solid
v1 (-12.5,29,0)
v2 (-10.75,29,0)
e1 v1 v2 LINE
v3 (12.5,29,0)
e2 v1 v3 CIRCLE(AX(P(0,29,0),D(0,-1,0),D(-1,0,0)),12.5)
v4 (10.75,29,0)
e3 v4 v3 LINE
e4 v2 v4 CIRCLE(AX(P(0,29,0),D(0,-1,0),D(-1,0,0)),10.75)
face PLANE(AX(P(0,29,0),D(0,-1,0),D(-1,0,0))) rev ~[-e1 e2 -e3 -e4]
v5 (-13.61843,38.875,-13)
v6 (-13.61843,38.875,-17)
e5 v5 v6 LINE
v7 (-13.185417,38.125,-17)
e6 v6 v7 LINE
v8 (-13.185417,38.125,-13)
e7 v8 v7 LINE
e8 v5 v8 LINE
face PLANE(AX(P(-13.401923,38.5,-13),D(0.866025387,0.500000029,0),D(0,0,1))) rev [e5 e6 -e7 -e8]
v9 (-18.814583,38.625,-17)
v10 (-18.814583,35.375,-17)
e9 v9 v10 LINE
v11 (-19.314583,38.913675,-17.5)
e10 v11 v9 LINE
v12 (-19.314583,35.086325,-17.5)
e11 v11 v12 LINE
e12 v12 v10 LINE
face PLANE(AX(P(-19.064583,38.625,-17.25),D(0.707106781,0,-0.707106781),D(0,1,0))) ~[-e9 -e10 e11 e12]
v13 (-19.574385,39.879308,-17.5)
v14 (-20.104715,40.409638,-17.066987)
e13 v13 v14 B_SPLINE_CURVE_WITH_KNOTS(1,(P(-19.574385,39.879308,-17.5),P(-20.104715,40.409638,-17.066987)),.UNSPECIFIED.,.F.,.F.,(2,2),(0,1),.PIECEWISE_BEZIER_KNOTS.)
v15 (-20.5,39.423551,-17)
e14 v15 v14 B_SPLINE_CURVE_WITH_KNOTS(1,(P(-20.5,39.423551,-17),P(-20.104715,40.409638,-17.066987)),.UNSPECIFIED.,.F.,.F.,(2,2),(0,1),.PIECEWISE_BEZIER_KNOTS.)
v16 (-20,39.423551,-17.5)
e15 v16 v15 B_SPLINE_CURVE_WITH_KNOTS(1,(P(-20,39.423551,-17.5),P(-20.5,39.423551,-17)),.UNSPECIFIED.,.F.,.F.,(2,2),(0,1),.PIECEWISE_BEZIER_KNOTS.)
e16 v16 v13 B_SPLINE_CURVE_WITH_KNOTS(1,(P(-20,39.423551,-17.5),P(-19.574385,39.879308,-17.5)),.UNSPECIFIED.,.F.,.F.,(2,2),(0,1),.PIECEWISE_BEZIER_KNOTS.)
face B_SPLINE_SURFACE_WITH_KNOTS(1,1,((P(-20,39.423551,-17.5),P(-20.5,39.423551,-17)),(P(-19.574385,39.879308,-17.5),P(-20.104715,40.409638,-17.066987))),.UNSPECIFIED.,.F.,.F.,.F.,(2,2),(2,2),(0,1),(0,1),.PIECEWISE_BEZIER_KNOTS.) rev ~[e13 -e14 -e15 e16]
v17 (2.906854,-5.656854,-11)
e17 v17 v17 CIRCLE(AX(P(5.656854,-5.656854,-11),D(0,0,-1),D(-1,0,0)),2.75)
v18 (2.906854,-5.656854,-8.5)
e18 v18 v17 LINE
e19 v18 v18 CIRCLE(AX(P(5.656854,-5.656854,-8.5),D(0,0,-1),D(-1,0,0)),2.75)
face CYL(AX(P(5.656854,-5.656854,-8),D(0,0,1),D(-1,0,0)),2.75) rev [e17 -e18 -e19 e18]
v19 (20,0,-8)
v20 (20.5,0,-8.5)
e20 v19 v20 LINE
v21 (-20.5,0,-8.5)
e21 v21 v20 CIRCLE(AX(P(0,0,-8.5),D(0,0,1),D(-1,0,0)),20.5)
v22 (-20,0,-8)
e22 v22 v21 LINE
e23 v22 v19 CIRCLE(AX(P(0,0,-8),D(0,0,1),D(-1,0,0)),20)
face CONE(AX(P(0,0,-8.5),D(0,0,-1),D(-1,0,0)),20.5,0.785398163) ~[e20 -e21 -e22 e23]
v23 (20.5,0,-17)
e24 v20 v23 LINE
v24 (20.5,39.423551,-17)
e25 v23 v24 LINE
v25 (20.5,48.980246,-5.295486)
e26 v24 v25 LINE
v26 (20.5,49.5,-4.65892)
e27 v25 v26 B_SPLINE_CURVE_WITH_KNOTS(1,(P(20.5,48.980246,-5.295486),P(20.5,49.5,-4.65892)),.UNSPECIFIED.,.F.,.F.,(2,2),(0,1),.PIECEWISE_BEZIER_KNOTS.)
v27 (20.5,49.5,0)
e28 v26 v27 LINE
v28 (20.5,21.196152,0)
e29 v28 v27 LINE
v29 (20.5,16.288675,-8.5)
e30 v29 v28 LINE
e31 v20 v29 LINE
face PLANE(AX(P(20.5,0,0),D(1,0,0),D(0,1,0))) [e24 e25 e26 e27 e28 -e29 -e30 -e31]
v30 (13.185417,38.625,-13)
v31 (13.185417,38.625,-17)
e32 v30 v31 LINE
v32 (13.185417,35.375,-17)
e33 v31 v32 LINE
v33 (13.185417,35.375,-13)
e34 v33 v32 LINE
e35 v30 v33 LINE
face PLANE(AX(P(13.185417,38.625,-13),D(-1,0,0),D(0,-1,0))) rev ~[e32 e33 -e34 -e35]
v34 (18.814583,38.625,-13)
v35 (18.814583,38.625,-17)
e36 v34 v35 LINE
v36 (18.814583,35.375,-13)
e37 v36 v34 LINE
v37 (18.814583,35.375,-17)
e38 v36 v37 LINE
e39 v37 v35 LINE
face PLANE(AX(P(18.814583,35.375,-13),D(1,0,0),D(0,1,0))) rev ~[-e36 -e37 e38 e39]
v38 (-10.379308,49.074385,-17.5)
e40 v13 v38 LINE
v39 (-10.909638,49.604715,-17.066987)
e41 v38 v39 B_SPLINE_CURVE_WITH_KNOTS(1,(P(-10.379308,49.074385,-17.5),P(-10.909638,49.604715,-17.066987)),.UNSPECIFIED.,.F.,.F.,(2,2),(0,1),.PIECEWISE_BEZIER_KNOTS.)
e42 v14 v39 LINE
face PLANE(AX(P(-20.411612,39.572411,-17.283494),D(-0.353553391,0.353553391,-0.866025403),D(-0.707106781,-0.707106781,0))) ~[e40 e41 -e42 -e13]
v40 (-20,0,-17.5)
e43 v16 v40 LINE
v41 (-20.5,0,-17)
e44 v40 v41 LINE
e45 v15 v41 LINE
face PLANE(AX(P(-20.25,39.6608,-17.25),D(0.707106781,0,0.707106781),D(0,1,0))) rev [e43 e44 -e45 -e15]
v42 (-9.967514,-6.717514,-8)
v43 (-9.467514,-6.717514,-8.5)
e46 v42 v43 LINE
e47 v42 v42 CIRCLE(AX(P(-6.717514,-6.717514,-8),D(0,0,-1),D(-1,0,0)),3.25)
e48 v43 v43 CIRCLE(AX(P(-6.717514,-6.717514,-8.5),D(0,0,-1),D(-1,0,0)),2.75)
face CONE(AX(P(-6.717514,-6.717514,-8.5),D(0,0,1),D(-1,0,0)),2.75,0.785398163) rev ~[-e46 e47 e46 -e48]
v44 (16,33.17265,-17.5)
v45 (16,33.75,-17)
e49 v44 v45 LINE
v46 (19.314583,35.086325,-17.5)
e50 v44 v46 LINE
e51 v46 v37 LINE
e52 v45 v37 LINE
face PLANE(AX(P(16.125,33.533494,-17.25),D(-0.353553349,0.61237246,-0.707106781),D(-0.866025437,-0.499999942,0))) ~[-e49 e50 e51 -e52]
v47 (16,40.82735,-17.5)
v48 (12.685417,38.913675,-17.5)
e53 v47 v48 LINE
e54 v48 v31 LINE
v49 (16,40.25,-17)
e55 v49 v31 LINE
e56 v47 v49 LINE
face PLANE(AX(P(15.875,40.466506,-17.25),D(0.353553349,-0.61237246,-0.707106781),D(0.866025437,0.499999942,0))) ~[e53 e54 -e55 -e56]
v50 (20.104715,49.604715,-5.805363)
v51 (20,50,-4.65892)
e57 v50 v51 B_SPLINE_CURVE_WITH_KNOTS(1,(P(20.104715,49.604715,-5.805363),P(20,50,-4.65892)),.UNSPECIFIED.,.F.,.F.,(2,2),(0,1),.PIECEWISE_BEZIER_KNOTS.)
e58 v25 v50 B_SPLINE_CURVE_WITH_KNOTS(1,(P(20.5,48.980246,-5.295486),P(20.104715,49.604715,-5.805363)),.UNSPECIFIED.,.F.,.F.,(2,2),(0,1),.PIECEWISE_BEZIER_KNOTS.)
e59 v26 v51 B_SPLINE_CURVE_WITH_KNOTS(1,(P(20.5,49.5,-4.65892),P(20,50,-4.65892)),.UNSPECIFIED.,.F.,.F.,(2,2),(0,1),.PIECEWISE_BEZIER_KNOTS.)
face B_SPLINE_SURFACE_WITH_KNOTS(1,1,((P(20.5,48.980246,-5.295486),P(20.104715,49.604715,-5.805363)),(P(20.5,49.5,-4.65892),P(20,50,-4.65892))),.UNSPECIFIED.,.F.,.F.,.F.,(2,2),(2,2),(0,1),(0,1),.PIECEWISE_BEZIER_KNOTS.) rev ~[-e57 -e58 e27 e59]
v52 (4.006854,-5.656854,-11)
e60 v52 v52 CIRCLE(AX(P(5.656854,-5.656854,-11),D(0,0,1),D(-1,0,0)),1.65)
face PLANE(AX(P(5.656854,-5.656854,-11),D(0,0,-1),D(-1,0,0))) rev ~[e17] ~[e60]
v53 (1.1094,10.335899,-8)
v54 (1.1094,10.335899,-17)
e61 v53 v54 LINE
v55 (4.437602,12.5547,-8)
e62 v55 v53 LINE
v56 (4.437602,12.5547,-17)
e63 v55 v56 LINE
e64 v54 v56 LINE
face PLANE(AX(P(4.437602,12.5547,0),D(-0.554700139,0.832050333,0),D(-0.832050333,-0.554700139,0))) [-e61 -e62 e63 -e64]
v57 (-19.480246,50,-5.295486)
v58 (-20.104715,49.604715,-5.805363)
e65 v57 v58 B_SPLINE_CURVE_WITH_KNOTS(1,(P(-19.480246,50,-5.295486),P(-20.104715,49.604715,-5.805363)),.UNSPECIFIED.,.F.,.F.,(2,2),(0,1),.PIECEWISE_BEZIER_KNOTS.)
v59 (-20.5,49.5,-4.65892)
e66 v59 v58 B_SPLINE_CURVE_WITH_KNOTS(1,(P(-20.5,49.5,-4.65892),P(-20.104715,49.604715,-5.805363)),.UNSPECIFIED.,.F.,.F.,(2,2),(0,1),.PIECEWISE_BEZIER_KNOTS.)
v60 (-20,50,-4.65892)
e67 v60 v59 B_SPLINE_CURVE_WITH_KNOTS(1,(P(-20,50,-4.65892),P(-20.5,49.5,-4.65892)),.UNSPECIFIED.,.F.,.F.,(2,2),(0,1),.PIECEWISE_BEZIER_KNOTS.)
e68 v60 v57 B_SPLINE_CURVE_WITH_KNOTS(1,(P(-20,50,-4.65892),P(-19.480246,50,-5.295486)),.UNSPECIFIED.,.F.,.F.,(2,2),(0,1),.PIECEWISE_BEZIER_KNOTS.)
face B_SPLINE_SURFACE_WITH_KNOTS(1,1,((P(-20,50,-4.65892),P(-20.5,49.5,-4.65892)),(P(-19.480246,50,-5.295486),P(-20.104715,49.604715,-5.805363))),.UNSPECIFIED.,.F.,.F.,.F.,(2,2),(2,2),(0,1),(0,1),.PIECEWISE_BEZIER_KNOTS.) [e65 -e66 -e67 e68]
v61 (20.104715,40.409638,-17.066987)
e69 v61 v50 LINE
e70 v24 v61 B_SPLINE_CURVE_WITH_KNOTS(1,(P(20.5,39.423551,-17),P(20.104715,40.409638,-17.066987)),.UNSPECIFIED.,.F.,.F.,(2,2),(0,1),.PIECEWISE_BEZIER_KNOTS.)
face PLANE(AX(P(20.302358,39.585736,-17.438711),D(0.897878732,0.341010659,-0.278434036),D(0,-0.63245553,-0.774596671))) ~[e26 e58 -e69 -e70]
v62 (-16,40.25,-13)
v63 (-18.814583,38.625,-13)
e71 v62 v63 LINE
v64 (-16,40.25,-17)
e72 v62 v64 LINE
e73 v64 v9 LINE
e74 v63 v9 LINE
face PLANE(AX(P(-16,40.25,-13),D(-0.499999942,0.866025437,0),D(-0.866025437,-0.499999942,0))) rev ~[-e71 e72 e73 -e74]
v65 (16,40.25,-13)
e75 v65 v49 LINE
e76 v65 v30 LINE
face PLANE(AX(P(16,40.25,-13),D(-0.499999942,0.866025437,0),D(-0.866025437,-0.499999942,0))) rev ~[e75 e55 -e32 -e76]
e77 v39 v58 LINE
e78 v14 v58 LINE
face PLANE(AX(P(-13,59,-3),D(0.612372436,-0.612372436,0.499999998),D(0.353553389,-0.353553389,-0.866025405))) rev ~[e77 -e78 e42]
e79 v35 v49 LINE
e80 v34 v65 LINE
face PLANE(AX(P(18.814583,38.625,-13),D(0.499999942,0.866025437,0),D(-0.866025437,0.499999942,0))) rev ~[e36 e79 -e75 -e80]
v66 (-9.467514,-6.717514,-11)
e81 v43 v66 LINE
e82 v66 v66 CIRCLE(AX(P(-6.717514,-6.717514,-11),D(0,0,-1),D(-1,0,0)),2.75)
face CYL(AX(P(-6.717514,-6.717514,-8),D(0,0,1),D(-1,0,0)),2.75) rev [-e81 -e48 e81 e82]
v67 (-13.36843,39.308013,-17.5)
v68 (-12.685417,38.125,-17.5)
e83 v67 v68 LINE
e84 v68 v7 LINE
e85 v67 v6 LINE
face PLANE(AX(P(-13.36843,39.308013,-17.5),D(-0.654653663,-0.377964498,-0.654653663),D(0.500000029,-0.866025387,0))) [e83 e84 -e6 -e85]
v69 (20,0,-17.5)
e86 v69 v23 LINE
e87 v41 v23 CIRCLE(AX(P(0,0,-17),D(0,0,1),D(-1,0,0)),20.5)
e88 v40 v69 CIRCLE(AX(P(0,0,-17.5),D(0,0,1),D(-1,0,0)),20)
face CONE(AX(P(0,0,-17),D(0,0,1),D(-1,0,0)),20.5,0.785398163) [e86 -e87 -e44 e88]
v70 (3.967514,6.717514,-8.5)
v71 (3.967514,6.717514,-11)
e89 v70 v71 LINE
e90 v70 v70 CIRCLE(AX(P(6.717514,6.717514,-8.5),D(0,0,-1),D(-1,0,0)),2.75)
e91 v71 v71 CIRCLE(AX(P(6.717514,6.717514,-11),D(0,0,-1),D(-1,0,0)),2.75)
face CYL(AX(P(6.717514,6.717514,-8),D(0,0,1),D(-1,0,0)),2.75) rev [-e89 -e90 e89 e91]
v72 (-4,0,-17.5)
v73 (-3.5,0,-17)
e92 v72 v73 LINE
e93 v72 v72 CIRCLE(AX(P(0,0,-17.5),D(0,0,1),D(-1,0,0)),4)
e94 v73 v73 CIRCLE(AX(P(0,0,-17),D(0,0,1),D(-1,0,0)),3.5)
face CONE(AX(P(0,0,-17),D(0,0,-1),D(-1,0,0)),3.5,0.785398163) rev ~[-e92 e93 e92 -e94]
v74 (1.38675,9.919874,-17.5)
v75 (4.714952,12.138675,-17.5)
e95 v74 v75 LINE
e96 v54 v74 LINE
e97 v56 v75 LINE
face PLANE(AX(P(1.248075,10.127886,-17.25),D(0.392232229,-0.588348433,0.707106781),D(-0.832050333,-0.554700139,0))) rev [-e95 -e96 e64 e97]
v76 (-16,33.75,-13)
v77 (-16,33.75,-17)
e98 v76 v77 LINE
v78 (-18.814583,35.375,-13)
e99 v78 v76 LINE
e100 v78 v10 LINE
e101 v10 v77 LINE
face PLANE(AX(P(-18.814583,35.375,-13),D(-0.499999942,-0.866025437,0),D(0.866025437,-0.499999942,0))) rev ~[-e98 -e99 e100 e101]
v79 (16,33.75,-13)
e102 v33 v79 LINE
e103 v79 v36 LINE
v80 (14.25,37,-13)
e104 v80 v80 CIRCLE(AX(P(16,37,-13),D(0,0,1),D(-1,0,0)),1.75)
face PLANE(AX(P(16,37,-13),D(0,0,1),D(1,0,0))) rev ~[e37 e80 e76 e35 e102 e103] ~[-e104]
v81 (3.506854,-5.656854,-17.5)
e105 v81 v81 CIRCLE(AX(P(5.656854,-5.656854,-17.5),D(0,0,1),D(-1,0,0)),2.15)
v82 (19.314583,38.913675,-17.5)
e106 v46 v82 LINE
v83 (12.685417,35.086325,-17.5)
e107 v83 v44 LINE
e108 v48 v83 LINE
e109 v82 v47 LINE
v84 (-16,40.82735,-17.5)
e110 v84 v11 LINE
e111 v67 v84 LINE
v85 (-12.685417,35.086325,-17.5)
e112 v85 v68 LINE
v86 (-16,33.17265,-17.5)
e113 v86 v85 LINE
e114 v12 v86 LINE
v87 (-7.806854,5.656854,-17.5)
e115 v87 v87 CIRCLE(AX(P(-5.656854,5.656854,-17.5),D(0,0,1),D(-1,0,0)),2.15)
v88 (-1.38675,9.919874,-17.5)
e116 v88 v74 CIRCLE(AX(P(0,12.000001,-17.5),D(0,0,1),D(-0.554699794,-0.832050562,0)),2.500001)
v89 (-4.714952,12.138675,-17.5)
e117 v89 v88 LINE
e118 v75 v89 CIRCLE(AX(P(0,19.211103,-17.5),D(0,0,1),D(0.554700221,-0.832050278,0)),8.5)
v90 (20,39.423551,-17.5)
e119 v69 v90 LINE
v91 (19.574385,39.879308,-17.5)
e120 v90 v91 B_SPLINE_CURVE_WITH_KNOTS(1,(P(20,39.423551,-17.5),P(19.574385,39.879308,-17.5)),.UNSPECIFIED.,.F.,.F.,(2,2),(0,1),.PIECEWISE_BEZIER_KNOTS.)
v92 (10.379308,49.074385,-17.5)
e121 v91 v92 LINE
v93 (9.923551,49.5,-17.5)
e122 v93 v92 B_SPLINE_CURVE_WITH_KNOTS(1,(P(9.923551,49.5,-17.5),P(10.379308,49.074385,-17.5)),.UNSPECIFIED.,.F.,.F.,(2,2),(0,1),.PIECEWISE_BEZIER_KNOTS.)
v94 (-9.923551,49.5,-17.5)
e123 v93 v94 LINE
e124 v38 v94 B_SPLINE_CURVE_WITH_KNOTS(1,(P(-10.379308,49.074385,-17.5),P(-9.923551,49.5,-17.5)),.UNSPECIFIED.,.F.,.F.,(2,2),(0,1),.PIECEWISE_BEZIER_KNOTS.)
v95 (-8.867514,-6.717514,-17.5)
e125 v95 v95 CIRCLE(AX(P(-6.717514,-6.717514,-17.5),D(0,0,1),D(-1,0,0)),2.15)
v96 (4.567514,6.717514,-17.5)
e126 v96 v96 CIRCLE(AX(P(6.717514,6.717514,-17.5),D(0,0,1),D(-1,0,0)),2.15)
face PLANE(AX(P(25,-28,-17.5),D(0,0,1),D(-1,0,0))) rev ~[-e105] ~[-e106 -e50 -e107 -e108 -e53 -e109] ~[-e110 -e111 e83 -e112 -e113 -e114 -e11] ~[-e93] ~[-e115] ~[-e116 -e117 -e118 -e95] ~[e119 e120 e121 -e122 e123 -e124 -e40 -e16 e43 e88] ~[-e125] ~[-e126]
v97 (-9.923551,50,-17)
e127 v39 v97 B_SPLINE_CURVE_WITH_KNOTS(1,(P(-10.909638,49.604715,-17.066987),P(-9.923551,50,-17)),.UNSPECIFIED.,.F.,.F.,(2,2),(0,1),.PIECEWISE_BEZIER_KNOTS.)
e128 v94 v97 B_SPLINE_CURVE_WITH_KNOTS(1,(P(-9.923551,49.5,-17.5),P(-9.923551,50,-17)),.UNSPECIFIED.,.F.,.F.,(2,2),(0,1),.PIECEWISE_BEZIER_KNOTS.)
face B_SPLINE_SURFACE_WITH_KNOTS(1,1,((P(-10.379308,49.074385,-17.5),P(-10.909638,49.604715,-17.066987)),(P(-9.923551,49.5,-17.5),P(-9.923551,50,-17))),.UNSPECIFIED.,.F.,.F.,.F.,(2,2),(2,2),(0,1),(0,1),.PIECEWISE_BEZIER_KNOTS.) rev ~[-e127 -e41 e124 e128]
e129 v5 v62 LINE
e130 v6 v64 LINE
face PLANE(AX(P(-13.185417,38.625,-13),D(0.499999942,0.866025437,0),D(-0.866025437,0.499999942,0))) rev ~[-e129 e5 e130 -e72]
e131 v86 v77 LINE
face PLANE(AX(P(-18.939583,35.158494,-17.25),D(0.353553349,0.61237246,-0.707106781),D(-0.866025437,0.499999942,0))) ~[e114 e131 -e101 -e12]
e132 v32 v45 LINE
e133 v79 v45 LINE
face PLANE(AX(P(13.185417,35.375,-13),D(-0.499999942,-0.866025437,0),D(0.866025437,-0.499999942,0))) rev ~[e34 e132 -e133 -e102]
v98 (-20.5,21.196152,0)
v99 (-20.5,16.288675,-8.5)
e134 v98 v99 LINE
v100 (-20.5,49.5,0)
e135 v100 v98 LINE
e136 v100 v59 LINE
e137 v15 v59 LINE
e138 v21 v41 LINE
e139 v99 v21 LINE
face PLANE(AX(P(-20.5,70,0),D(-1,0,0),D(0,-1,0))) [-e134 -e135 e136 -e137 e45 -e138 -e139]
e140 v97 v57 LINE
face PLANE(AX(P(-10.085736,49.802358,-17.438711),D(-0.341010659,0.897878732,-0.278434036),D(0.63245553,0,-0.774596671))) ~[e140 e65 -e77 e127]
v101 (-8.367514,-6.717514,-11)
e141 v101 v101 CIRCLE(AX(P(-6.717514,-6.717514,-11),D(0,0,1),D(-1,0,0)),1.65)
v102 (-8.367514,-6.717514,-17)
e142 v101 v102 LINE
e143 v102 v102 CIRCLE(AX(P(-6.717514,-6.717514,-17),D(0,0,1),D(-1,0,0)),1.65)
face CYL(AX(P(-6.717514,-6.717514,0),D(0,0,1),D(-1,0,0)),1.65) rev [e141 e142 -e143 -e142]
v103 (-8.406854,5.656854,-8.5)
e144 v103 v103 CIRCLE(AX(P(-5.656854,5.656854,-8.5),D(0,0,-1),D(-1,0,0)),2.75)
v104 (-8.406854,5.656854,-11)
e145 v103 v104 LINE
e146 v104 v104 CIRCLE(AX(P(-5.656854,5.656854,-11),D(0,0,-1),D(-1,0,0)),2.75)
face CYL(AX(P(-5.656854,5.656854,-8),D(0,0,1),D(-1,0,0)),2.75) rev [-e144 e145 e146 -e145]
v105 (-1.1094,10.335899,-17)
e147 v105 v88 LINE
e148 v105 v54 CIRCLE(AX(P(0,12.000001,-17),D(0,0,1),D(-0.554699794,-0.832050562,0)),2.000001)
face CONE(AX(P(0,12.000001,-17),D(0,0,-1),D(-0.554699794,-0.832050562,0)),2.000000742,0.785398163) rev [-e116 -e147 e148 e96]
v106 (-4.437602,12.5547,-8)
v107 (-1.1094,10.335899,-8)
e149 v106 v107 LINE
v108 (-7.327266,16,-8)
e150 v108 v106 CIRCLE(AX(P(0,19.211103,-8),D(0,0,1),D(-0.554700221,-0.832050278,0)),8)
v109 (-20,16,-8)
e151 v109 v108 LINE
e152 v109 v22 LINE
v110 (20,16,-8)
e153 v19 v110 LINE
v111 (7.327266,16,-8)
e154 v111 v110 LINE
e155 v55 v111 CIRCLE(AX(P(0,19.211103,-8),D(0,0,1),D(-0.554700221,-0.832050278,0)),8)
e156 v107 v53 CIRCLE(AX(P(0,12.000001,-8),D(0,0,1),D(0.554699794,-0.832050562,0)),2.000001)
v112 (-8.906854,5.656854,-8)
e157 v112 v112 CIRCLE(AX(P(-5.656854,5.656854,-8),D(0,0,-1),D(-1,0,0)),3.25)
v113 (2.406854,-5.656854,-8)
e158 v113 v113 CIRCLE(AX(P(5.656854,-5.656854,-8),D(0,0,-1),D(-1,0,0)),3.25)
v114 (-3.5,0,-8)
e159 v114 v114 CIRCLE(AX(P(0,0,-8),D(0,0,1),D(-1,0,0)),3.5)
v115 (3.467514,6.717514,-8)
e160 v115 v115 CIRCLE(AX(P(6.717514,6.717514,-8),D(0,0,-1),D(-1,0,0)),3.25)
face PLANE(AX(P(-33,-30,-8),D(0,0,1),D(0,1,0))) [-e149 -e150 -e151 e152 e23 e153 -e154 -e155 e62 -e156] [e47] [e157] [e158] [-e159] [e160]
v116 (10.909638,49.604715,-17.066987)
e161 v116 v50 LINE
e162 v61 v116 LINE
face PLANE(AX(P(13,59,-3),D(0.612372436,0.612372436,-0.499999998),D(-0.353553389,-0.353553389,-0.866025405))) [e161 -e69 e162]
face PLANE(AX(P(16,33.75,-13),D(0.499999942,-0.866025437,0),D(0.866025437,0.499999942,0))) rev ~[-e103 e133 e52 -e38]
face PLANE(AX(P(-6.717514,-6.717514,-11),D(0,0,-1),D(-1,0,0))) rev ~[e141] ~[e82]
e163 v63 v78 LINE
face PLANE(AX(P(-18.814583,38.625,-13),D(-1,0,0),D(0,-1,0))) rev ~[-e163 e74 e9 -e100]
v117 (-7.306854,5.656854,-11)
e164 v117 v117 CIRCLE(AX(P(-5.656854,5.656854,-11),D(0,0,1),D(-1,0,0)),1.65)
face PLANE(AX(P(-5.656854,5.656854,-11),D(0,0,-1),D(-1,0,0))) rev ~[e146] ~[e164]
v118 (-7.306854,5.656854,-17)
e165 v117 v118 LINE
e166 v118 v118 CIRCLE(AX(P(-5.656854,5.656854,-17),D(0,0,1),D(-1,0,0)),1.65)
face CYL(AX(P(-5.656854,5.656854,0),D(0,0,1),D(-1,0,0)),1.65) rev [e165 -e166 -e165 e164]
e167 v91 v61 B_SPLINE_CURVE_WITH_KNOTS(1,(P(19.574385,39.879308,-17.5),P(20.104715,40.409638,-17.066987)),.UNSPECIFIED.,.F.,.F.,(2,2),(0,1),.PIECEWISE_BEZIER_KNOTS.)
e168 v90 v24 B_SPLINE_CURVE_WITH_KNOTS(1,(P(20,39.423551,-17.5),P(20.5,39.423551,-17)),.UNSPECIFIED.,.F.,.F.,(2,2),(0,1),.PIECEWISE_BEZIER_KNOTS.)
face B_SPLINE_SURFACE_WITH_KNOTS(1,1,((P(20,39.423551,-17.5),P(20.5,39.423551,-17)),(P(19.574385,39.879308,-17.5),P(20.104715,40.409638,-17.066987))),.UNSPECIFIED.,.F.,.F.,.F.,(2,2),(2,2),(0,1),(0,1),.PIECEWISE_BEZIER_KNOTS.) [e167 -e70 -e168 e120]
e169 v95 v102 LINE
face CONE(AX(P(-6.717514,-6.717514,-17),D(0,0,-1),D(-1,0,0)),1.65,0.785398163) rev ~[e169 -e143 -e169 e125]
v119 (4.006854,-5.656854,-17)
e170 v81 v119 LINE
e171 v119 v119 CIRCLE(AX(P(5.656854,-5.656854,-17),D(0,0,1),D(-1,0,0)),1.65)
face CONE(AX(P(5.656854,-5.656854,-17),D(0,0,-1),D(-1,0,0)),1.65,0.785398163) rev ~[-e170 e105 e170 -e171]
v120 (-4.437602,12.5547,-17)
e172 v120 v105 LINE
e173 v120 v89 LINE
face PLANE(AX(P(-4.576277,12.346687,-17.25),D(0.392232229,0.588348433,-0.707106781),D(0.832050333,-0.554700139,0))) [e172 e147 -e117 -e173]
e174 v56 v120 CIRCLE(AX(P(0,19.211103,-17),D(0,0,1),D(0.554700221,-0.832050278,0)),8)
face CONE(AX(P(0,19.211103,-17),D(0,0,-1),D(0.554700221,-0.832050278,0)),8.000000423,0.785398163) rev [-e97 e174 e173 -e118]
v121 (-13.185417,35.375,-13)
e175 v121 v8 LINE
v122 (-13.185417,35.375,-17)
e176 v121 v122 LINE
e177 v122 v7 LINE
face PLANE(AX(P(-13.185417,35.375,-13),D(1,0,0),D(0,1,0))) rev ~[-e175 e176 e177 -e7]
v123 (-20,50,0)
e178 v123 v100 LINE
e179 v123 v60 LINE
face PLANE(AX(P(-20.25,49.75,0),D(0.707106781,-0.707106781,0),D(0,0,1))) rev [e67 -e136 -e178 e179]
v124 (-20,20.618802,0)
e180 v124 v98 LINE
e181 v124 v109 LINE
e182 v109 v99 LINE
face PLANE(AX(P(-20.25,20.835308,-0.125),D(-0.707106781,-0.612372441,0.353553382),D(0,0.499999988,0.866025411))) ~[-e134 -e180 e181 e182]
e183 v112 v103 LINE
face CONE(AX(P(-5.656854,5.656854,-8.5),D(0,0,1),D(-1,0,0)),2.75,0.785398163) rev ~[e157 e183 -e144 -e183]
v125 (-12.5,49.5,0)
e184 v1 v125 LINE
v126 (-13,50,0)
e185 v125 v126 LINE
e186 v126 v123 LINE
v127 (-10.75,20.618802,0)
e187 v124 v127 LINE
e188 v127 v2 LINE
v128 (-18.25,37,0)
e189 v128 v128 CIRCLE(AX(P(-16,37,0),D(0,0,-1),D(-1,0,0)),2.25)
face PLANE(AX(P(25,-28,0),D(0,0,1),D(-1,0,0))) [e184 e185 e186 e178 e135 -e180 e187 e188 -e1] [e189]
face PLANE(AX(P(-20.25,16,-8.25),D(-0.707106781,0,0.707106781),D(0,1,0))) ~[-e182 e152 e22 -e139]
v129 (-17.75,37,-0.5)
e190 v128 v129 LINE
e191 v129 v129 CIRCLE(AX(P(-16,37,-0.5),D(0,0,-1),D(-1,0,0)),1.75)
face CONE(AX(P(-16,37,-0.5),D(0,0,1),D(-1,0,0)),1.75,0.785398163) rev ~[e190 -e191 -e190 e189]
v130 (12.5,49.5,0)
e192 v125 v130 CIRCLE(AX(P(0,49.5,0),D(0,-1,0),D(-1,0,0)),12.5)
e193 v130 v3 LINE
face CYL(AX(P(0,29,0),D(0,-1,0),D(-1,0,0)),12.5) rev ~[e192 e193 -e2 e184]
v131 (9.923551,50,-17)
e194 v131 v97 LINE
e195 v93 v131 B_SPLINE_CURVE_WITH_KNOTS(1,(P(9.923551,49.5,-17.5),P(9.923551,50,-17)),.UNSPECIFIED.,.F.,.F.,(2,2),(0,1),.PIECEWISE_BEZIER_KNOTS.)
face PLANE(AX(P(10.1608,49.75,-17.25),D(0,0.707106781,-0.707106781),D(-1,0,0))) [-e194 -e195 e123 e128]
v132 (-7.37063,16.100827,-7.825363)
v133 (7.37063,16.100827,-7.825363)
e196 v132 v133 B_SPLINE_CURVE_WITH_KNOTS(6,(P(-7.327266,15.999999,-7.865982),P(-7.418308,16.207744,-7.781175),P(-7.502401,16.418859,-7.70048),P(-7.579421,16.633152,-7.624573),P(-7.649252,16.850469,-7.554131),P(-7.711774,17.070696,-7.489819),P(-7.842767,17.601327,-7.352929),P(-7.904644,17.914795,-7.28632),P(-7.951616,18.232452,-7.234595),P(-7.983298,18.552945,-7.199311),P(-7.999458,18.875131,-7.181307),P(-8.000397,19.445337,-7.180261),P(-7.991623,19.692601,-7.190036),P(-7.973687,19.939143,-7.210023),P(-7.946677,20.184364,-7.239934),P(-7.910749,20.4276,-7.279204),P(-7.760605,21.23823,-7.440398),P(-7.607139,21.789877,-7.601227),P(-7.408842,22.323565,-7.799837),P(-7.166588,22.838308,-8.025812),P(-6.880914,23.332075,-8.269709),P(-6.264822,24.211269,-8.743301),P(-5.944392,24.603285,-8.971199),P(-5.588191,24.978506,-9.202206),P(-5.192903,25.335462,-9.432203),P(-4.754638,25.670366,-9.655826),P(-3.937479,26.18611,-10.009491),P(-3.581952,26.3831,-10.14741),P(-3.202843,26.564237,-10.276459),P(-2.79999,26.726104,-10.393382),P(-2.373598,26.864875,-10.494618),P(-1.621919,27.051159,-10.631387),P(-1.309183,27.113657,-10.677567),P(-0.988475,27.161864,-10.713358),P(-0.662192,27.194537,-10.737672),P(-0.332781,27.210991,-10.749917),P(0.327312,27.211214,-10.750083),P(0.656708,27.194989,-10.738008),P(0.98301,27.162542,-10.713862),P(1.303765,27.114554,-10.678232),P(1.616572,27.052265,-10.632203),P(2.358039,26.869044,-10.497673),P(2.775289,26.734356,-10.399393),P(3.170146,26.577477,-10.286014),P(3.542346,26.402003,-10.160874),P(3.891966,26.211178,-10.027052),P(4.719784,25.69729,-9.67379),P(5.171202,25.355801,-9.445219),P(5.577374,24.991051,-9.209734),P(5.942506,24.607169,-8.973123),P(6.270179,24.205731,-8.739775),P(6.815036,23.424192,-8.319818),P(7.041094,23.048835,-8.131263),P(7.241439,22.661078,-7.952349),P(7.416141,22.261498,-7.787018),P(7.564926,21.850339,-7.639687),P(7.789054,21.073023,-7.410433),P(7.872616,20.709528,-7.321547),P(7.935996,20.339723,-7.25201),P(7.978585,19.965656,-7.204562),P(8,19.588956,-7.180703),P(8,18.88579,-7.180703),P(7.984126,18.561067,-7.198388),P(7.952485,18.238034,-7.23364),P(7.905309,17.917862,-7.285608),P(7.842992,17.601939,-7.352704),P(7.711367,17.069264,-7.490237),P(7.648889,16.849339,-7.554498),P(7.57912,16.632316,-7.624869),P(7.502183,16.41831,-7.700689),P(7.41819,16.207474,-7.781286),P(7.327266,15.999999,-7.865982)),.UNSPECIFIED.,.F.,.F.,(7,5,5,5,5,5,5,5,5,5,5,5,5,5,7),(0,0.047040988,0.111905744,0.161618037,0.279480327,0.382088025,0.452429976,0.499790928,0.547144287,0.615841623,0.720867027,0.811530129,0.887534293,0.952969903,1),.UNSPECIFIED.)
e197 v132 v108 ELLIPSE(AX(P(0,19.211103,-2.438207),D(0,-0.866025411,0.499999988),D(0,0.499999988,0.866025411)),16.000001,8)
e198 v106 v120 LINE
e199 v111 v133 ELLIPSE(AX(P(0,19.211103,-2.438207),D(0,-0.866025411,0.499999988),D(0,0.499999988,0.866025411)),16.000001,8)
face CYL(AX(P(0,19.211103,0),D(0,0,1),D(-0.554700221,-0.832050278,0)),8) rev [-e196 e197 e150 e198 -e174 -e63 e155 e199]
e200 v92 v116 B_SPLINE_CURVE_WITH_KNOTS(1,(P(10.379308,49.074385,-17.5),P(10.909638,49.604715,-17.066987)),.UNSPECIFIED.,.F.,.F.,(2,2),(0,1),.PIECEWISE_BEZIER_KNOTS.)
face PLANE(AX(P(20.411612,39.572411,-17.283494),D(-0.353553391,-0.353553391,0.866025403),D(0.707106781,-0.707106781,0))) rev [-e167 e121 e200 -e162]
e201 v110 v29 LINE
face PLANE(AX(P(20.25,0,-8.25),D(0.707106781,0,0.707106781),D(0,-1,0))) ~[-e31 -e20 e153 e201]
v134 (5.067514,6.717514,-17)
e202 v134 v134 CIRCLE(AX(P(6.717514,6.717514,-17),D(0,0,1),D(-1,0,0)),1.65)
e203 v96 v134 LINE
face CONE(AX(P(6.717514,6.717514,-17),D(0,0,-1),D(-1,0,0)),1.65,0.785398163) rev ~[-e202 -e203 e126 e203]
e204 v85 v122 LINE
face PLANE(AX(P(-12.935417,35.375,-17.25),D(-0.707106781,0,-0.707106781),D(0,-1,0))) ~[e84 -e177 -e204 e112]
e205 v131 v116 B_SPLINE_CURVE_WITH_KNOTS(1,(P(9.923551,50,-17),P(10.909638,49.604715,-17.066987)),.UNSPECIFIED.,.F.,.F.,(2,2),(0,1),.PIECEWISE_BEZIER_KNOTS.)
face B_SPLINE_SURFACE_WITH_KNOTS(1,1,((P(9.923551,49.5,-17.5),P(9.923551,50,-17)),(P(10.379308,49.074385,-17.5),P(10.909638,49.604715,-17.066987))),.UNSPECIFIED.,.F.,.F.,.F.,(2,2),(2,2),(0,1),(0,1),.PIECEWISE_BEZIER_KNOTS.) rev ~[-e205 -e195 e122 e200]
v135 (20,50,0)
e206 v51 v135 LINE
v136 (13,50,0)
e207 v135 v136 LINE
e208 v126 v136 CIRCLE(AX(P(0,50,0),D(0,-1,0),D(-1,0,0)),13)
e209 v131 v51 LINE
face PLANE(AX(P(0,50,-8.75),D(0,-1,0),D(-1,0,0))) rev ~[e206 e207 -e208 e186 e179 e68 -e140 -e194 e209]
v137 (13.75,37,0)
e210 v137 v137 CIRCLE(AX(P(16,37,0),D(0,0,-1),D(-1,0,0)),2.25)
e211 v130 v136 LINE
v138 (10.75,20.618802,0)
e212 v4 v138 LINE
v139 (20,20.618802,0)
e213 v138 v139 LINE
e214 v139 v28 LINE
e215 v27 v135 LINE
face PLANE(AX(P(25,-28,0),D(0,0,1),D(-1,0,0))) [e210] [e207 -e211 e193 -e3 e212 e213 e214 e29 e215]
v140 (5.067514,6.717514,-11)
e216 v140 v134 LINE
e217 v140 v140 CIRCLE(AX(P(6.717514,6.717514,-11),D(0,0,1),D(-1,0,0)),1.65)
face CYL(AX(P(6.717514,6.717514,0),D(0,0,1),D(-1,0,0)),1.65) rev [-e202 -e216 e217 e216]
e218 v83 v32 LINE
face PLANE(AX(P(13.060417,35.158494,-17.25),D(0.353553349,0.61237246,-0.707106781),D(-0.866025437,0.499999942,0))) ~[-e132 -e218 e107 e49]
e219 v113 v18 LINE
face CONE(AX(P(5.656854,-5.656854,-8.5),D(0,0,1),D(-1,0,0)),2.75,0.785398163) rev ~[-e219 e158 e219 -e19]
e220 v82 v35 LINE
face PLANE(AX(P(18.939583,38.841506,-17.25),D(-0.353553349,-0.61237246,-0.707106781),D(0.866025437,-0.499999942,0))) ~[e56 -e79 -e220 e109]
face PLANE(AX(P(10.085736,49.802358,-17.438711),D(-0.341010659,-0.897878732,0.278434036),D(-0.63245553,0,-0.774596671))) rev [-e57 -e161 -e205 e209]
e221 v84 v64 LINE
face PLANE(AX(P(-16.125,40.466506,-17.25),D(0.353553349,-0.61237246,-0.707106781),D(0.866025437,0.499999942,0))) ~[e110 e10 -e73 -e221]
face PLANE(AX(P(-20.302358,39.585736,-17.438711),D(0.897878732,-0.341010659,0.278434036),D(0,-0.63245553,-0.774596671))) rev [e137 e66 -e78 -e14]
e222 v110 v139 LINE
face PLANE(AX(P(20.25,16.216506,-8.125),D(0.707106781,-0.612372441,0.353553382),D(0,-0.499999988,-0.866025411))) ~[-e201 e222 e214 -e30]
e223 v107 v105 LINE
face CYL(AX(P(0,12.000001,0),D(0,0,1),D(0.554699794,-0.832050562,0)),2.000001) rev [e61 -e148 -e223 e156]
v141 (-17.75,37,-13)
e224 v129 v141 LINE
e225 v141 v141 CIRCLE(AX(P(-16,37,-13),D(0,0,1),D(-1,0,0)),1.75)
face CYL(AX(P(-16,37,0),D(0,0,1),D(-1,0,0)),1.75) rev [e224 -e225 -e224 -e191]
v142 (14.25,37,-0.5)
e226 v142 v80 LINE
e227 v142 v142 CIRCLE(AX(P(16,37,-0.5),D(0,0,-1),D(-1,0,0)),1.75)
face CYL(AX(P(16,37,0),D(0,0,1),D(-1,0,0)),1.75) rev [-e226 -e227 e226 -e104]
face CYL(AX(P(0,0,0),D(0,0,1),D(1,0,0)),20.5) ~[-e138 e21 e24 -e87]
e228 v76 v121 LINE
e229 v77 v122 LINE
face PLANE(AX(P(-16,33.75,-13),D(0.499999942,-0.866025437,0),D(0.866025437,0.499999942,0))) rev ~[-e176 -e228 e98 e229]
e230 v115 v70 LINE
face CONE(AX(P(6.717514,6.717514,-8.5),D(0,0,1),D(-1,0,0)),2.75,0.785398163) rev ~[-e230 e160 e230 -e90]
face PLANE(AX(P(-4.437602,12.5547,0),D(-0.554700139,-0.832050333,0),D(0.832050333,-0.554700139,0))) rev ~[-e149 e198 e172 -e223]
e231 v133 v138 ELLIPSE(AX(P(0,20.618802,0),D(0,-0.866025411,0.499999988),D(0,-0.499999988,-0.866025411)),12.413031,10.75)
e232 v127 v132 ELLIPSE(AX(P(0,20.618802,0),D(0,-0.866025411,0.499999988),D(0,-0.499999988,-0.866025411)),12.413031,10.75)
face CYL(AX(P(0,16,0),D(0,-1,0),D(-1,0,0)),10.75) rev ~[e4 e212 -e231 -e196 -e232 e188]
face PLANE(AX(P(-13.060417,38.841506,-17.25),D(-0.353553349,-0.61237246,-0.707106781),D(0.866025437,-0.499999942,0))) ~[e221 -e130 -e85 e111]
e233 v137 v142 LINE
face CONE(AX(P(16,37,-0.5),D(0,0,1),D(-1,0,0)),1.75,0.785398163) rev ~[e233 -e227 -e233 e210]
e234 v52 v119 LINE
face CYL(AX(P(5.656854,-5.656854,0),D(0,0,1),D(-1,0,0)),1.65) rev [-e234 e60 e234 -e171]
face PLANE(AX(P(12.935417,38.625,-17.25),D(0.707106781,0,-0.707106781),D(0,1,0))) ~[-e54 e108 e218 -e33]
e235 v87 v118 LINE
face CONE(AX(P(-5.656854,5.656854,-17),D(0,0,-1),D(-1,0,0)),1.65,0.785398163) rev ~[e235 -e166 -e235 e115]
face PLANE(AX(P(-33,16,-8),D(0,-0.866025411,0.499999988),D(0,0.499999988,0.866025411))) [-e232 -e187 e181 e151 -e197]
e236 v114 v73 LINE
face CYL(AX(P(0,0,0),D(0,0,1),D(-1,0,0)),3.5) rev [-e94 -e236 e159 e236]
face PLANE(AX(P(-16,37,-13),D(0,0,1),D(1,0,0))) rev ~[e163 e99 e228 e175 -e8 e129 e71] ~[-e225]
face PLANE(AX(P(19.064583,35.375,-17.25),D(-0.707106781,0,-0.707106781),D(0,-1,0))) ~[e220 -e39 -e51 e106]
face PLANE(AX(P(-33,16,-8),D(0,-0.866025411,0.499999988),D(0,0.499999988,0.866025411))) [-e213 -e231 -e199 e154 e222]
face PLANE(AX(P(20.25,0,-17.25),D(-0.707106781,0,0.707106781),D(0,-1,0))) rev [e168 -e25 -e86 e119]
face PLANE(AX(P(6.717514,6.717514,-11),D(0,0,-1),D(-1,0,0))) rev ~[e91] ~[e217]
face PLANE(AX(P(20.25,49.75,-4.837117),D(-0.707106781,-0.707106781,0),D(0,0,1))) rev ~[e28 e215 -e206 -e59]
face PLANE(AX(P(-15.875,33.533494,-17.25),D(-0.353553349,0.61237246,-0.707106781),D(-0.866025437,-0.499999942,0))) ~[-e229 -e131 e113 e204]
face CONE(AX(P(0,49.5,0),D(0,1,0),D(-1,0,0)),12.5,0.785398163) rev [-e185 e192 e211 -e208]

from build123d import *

# Parameters (mm, degrees)
EXTRUDE077_DEPTH                     = 23
EXTRUDE077_PLACEMENT_ANGLE           = 45
EXTRUDE076_DEPTH                     = 23
EXTRUDE076_PLACEMENT_ANGLE           = -45
EXTRUDE049_DEPTH                     = 5
SKETCH050_AS_DRAWN_R                 = 10.75
EXTRUDE048_DEPTH                     = 27
EXTRUDE048_ONTO_SKETCH050_ROLL_ANGLE = 90
SKETCH052_R                          = 2.75
EXTRUDE050_DEPTH                     = 3
SKETCH046_R                          = 3.5
SKETCH046_R_2                        = 1.75
SKETCH046_R_3                        = 1.65
EXTRUDE044_DEPTH                     = 30
SKETCH047_AS_DRAWN_R                 = 12.5
EXTRUDE047_DEPTH                     = 50
EXTRUDE047_ONTO_SKETCH047_ROLL_ANGLE = 90
EXTRUDE045_DEPTH                     = 60
SKETCH049_AS_DRAWN_W                 = 50
SKETCH049_AS_DRAWN_H                 = 17.5
EXTRUDE046_DEPTH                     = 78
EXTRUDE046_ONTO_SKETCH049_ROLL_ANGLE = 90
CHAMFER_SIZE                         = 0.5
CHAMFER_PLACEMENT_ANGLE              = 180


with BuildPart() as extrude077:
    # Sketch077 → Extrude077 (new body)
    with BuildSketch(Plane.YZ):
        Polygon((-8.660254, 15), (0, 15), (0, 0), align=None)
    extrude(amount=-EXTRUDE077_DEPTH)


with BuildPart() as extrude077_1:
    # Extrude077 placement: moved
    add(extrude077.part.moved(Location((-13, 0, 0))).rotate(Axis((-13, 0, 0), (0, 0, 1)), EXTRUDE077_PLACEMENT_ANGLE))


with BuildPart() as fusion032:
    # Sketch077 → Extrude076 (new body)
    with BuildSketch(Plane.YZ):
        Polygon((-8.660254, 15), (0, 15), (0, 0), align=None)
    extrude(amount=EXTRUDE076_DEPTH)


with BuildPart() as fusion032_1:
    # Extrude076 placement: moved
    add(fusion032.part.moved(Location((13, 0, 0))).rotate(Axis((13, 0, 0), (0, 0, 1)), EXTRUDE076_PLACEMENT_ANGLE))

    # Fusion032: union Extrude077
    add(extrude077_1.part)


with BuildPart() as fusion032_2:
    # Fusion032 placement: moved
    add(fusion032_1.part.moved(Location((0, 59, 3))))


with BuildPart() as extrude049:
    # Sketch051 → Extrude049 (new body)
    with BuildSketch(Plane(origin=(0, 40, 0), x_dir=(1, 0, 0), z_dir=(0, 0, 1))):
        Polygon((-16, 0.25), (-13.185417, -1.375), (-13.185417, -4.625), (-16, -6.25), (-18.814583, -4.625), (-18.814583, -1.375), align=None)
        Polygon((16, 0.25), (18.814583, -1.375), (18.814583, -4.625), (16, -6.25), (13.185417, -4.625), (13.185417, -1.375), align=None)
    extrude(amount=EXTRUDE049_DEPTH)


with BuildPart() as extrude049_1:
    # Extrude049 placement: moved
    add(extrude049.part.moved(Location((0, 0, 13))))


with BuildPart() as extrude048:
    # Sketch050 as drawn → Extrude048 (new)
    with BuildSketch(Plane.XY):
        Circle(SKETCH050_AS_DRAWN_R)
    extrude(amount=-EXTRUDE048_DEPTH)


with BuildPart() as extrude048_1:
    # Extrude048 onto Sketch050 roll: moved
    add(extrude048.part.rotate(Axis((0, 0, 0), (1, 0, 0)), EXTRUDE048_ONTO_SKETCH050_ROLL_ANGLE))


with BuildPart() as extrude048_2:
    # Extrude048 onto Sketch050 placement: moved
    add(extrude048_1.part.moved(Location((0, 33, 0))))


with BuildPart() as extrude048_3:
    # Extrude048 placement: moved
    add(extrude048_2.part.moved(Location((0, -17, 0))))


with BuildPart() as extrude050:
    # Sketch052 → Extrude050 (new body)
    with BuildSketch(Plane.XY):
        with Locations((-6.717514, 6.717514)):
            Circle(SKETCH052_R)
        with Locations((5.656854, 5.656854)):
            Circle(SKETCH052_R)
        with Locations((6.717514, -6.717514)):
            Circle(SKETCH052_R)
        with Locations((-5.656854, -5.656854)):
            Circle(SKETCH052_R)
    extrude(amount=EXTRUDE050_DEPTH)


with BuildPart() as extrude050_1:
    # Extrude050 placement: moved
    add(extrude050.part.moved(Location((0, 0, 8))))


with BuildPart() as extrude044:
    # Sketch046 → Extrude044 (new body)
    with BuildSketch(Plane.XY):
        Circle(SKETCH046_R)
        with Locations((-16, 37)):
            Circle(SKETCH046_R_2)
        with Locations((16, 37)):
            Circle(SKETCH046_R_2)
        with Locations((6.717514, -6.717514)):
            Circle(SKETCH046_R_3)
        with Locations((-6.717514, 6.717514)):
            Circle(SKETCH046_R_3)
        with Locations((-5.656854, -5.656854)):
            Circle(SKETCH046_R_3)
        with Locations((5.656854, 5.656854)):
            Circle(SKETCH046_R_3)
        with BuildLine():
            ThreePointArc((4.437602, 12.5547), (0, 27.211103), (-4.437602, 12.5547))
            Line((-4.437602, 12.5547), (-1.1094, 10.335899))
            ThreePointArc((-1.1094, 10.335899), (0, 10), (1.1094, 10.335899))
            Line((4.437602, 12.5547), (1.1094, 10.335899))
        make_face()
        with BuildLine():
            Line((-20.5, 0), (-20.5, 70))
            Line((-20.5, 70), (-29.5, 70))
            Line((-29.5, 70), (-29.5, -30))
            Line((-29.5, -30), (29.5, -30))
            Line((29.5, -30), (29.5, 70))
            Line((29.5, 70), (20.5, 70))
            Line((20.5, 70), (20.5, 0))
            ThreePointArc((-20.5, 0), (0, -20.5), (20.5, 0))
        make_face()
    extrude(amount=EXTRUDE044_DEPTH)


with BuildPart() as extrude047:
    # Sketch047 as drawn → Extrude047 (new)
    with BuildSketch(Plane.XY):
        Circle(SKETCH047_AS_DRAWN_R)
    extrude(amount=-EXTRUDE047_DEPTH)


with BuildPart() as extrude047_1:
    # Extrude047 onto Sketch047 roll: moved
    add(extrude047.part.rotate(Axis((0, 0, 0), (1, 0, 0)), EXTRUDE047_ONTO_SKETCH047_ROLL_ANGLE))


with BuildPart() as extrude047_2:
    # Extrude047 onto Sketch047 placement: moved
    add(extrude047_1.part.moved(Location((0, 32, 0))))


with BuildPart() as extrude047_3:
    # Extrude047 placement: moved
    add(extrude047_2.part.moved(Location((0, -3, 0))))


with BuildPart() as extrude045:
    # Sketch048 → Extrude045 (new body)
    with BuildSketch(Plane.YZ.offset(33)):
        Polygon((-30, 8), (16, 8), (20.618802, 0), (-30, 0), align=None)
    extrude(amount=-EXTRUDE045_DEPTH)


with BuildPart() as chamfer_body:
    # Sketch049 as drawn → Extrude046 (new)
    with BuildSketch(Plane.XY):
        with Locations((0, 8.75)):
            Rectangle(SKETCH049_AS_DRAWN_W, SKETCH049_AS_DRAWN_H)
    extrude(amount=-EXTRUDE046_DEPTH)


with BuildPart() as chamfer_body_1:
    # Extrude046 onto Sketch049 roll: moved
    add(chamfer_body.part.rotate(Axis((0, 0, 0), (1, 0, 0)), EXTRUDE046_ONTO_SKETCH049_ROLL_ANGLE))


with BuildPart() as chamfer_body_2:
    # Extrude046 onto Sketch049 placement: moved
    add(chamfer_body_1.part.moved(Location((0, -28, 0))))

    # Cut029: cut Extrude045
    add(extrude045.part, mode=Mode.SUBTRACT)

    # Cut001: cut Extrude047
    add(extrude047_3.part, mode=Mode.SUBTRACT)

    # Cut030: cut Extrude044
    add(extrude044.part, mode=Mode.SUBTRACT)

    # Cut031: cut Extrude050
    add(extrude050_1.part, mode=Mode.SUBTRACT)

    # Cut004: cut Extrude048
    add(extrude048_3.part, mode=Mode.SUBTRACT)

    # Cut005: cut Extrude049
    add(extrude049_1.part, mode=Mode.SUBTRACT)

    # Cut043: cut Fusion032
    add(fusion032_2.part, mode=Mode.SUBTRACT)

    # Chamfer
    chamfer_edges = [chamfer_body_2.edges().sort_by_distance(p)[0] for p in [
        (0, -20.5, 17.5),
        (20.5, 19.8304, 17.5),
        (15.3304, 44.8304, 17.5),
        (0, 50, 17.5),
        (-15.3304, 44.8304, 17.5),
        (-20.5, 19.8304, 17.5),
        (-14.592709, 39.4375, 17.5),
        (-17.407291, 39.4375, 17.5),
        (-13.185417, 37, 17.5),
        (-18.814583, 37, 17.5),
        (-14.592709, 34.5625, 17.5),
        (-17.407291, 34.5625, 17.5),
        (-7.306854, -5.656854, 17.5),
        (-8.367514, 6.717514, 17.5),
        (0, 27.211103, 17.5),
        (-2.773501, 11.4453, 17.5),
        (2.773501, 11.4453, 17.5),
        (0, 10, 17.5),
        (-3.5, 0, 17.5),
        (14.592709, 39.4375, 17.5),
        (13.185417, 37, 17.5),
        (17.407291, 39.4375, 17.5),
        (14.592709, 34.5625, 17.5),
        (18.814583, 37, 17.5),
        (17.407291, 34.5625, 17.5),
        (4.006854, 5.656854, 17.5),
        (5.067514, -6.717514, 17.5),
        (0, -20.5, 8),
        (20.5, 18.309401, 4),
        (20.5, 8, 8),
        (20.5, 44.8304, 11.168559),
        (20.5, 50, 2.418559),
        (15.3304, 50, 11.168559),
        (0, 50, 12.5),
        (-20.5, 50, 2.418559),
        (-15.3304, 50, 11.168559),
        (-20.5, 44.8304, 11.168559),
        (-20.5, 8, 8),
        (-20.5, 18.309401, 4),
        (13.185417, 38.625, 15.25),
        (3.967514, -6.717514, 8),
        (-8.406854, -5.656854, 8),
        (2.906854, 5.656854, 8),
        (-9.467514, 6.717514, 8),
        (14.25, 37, 0),
        (-17.75, 37, 0),
    ]]
    chamfer(chamfer_edges, length=CHAMFER_SIZE)


with BuildPart() as chamfer_body_3:
    # Chamfer placement: moved
    add(chamfer_body_2.part.rotate(Axis((0, 0, 0), (0, 1, 0)), CHAMFER_PLACEMENT_ANGLE))


solid = chamfer_body_3.part
